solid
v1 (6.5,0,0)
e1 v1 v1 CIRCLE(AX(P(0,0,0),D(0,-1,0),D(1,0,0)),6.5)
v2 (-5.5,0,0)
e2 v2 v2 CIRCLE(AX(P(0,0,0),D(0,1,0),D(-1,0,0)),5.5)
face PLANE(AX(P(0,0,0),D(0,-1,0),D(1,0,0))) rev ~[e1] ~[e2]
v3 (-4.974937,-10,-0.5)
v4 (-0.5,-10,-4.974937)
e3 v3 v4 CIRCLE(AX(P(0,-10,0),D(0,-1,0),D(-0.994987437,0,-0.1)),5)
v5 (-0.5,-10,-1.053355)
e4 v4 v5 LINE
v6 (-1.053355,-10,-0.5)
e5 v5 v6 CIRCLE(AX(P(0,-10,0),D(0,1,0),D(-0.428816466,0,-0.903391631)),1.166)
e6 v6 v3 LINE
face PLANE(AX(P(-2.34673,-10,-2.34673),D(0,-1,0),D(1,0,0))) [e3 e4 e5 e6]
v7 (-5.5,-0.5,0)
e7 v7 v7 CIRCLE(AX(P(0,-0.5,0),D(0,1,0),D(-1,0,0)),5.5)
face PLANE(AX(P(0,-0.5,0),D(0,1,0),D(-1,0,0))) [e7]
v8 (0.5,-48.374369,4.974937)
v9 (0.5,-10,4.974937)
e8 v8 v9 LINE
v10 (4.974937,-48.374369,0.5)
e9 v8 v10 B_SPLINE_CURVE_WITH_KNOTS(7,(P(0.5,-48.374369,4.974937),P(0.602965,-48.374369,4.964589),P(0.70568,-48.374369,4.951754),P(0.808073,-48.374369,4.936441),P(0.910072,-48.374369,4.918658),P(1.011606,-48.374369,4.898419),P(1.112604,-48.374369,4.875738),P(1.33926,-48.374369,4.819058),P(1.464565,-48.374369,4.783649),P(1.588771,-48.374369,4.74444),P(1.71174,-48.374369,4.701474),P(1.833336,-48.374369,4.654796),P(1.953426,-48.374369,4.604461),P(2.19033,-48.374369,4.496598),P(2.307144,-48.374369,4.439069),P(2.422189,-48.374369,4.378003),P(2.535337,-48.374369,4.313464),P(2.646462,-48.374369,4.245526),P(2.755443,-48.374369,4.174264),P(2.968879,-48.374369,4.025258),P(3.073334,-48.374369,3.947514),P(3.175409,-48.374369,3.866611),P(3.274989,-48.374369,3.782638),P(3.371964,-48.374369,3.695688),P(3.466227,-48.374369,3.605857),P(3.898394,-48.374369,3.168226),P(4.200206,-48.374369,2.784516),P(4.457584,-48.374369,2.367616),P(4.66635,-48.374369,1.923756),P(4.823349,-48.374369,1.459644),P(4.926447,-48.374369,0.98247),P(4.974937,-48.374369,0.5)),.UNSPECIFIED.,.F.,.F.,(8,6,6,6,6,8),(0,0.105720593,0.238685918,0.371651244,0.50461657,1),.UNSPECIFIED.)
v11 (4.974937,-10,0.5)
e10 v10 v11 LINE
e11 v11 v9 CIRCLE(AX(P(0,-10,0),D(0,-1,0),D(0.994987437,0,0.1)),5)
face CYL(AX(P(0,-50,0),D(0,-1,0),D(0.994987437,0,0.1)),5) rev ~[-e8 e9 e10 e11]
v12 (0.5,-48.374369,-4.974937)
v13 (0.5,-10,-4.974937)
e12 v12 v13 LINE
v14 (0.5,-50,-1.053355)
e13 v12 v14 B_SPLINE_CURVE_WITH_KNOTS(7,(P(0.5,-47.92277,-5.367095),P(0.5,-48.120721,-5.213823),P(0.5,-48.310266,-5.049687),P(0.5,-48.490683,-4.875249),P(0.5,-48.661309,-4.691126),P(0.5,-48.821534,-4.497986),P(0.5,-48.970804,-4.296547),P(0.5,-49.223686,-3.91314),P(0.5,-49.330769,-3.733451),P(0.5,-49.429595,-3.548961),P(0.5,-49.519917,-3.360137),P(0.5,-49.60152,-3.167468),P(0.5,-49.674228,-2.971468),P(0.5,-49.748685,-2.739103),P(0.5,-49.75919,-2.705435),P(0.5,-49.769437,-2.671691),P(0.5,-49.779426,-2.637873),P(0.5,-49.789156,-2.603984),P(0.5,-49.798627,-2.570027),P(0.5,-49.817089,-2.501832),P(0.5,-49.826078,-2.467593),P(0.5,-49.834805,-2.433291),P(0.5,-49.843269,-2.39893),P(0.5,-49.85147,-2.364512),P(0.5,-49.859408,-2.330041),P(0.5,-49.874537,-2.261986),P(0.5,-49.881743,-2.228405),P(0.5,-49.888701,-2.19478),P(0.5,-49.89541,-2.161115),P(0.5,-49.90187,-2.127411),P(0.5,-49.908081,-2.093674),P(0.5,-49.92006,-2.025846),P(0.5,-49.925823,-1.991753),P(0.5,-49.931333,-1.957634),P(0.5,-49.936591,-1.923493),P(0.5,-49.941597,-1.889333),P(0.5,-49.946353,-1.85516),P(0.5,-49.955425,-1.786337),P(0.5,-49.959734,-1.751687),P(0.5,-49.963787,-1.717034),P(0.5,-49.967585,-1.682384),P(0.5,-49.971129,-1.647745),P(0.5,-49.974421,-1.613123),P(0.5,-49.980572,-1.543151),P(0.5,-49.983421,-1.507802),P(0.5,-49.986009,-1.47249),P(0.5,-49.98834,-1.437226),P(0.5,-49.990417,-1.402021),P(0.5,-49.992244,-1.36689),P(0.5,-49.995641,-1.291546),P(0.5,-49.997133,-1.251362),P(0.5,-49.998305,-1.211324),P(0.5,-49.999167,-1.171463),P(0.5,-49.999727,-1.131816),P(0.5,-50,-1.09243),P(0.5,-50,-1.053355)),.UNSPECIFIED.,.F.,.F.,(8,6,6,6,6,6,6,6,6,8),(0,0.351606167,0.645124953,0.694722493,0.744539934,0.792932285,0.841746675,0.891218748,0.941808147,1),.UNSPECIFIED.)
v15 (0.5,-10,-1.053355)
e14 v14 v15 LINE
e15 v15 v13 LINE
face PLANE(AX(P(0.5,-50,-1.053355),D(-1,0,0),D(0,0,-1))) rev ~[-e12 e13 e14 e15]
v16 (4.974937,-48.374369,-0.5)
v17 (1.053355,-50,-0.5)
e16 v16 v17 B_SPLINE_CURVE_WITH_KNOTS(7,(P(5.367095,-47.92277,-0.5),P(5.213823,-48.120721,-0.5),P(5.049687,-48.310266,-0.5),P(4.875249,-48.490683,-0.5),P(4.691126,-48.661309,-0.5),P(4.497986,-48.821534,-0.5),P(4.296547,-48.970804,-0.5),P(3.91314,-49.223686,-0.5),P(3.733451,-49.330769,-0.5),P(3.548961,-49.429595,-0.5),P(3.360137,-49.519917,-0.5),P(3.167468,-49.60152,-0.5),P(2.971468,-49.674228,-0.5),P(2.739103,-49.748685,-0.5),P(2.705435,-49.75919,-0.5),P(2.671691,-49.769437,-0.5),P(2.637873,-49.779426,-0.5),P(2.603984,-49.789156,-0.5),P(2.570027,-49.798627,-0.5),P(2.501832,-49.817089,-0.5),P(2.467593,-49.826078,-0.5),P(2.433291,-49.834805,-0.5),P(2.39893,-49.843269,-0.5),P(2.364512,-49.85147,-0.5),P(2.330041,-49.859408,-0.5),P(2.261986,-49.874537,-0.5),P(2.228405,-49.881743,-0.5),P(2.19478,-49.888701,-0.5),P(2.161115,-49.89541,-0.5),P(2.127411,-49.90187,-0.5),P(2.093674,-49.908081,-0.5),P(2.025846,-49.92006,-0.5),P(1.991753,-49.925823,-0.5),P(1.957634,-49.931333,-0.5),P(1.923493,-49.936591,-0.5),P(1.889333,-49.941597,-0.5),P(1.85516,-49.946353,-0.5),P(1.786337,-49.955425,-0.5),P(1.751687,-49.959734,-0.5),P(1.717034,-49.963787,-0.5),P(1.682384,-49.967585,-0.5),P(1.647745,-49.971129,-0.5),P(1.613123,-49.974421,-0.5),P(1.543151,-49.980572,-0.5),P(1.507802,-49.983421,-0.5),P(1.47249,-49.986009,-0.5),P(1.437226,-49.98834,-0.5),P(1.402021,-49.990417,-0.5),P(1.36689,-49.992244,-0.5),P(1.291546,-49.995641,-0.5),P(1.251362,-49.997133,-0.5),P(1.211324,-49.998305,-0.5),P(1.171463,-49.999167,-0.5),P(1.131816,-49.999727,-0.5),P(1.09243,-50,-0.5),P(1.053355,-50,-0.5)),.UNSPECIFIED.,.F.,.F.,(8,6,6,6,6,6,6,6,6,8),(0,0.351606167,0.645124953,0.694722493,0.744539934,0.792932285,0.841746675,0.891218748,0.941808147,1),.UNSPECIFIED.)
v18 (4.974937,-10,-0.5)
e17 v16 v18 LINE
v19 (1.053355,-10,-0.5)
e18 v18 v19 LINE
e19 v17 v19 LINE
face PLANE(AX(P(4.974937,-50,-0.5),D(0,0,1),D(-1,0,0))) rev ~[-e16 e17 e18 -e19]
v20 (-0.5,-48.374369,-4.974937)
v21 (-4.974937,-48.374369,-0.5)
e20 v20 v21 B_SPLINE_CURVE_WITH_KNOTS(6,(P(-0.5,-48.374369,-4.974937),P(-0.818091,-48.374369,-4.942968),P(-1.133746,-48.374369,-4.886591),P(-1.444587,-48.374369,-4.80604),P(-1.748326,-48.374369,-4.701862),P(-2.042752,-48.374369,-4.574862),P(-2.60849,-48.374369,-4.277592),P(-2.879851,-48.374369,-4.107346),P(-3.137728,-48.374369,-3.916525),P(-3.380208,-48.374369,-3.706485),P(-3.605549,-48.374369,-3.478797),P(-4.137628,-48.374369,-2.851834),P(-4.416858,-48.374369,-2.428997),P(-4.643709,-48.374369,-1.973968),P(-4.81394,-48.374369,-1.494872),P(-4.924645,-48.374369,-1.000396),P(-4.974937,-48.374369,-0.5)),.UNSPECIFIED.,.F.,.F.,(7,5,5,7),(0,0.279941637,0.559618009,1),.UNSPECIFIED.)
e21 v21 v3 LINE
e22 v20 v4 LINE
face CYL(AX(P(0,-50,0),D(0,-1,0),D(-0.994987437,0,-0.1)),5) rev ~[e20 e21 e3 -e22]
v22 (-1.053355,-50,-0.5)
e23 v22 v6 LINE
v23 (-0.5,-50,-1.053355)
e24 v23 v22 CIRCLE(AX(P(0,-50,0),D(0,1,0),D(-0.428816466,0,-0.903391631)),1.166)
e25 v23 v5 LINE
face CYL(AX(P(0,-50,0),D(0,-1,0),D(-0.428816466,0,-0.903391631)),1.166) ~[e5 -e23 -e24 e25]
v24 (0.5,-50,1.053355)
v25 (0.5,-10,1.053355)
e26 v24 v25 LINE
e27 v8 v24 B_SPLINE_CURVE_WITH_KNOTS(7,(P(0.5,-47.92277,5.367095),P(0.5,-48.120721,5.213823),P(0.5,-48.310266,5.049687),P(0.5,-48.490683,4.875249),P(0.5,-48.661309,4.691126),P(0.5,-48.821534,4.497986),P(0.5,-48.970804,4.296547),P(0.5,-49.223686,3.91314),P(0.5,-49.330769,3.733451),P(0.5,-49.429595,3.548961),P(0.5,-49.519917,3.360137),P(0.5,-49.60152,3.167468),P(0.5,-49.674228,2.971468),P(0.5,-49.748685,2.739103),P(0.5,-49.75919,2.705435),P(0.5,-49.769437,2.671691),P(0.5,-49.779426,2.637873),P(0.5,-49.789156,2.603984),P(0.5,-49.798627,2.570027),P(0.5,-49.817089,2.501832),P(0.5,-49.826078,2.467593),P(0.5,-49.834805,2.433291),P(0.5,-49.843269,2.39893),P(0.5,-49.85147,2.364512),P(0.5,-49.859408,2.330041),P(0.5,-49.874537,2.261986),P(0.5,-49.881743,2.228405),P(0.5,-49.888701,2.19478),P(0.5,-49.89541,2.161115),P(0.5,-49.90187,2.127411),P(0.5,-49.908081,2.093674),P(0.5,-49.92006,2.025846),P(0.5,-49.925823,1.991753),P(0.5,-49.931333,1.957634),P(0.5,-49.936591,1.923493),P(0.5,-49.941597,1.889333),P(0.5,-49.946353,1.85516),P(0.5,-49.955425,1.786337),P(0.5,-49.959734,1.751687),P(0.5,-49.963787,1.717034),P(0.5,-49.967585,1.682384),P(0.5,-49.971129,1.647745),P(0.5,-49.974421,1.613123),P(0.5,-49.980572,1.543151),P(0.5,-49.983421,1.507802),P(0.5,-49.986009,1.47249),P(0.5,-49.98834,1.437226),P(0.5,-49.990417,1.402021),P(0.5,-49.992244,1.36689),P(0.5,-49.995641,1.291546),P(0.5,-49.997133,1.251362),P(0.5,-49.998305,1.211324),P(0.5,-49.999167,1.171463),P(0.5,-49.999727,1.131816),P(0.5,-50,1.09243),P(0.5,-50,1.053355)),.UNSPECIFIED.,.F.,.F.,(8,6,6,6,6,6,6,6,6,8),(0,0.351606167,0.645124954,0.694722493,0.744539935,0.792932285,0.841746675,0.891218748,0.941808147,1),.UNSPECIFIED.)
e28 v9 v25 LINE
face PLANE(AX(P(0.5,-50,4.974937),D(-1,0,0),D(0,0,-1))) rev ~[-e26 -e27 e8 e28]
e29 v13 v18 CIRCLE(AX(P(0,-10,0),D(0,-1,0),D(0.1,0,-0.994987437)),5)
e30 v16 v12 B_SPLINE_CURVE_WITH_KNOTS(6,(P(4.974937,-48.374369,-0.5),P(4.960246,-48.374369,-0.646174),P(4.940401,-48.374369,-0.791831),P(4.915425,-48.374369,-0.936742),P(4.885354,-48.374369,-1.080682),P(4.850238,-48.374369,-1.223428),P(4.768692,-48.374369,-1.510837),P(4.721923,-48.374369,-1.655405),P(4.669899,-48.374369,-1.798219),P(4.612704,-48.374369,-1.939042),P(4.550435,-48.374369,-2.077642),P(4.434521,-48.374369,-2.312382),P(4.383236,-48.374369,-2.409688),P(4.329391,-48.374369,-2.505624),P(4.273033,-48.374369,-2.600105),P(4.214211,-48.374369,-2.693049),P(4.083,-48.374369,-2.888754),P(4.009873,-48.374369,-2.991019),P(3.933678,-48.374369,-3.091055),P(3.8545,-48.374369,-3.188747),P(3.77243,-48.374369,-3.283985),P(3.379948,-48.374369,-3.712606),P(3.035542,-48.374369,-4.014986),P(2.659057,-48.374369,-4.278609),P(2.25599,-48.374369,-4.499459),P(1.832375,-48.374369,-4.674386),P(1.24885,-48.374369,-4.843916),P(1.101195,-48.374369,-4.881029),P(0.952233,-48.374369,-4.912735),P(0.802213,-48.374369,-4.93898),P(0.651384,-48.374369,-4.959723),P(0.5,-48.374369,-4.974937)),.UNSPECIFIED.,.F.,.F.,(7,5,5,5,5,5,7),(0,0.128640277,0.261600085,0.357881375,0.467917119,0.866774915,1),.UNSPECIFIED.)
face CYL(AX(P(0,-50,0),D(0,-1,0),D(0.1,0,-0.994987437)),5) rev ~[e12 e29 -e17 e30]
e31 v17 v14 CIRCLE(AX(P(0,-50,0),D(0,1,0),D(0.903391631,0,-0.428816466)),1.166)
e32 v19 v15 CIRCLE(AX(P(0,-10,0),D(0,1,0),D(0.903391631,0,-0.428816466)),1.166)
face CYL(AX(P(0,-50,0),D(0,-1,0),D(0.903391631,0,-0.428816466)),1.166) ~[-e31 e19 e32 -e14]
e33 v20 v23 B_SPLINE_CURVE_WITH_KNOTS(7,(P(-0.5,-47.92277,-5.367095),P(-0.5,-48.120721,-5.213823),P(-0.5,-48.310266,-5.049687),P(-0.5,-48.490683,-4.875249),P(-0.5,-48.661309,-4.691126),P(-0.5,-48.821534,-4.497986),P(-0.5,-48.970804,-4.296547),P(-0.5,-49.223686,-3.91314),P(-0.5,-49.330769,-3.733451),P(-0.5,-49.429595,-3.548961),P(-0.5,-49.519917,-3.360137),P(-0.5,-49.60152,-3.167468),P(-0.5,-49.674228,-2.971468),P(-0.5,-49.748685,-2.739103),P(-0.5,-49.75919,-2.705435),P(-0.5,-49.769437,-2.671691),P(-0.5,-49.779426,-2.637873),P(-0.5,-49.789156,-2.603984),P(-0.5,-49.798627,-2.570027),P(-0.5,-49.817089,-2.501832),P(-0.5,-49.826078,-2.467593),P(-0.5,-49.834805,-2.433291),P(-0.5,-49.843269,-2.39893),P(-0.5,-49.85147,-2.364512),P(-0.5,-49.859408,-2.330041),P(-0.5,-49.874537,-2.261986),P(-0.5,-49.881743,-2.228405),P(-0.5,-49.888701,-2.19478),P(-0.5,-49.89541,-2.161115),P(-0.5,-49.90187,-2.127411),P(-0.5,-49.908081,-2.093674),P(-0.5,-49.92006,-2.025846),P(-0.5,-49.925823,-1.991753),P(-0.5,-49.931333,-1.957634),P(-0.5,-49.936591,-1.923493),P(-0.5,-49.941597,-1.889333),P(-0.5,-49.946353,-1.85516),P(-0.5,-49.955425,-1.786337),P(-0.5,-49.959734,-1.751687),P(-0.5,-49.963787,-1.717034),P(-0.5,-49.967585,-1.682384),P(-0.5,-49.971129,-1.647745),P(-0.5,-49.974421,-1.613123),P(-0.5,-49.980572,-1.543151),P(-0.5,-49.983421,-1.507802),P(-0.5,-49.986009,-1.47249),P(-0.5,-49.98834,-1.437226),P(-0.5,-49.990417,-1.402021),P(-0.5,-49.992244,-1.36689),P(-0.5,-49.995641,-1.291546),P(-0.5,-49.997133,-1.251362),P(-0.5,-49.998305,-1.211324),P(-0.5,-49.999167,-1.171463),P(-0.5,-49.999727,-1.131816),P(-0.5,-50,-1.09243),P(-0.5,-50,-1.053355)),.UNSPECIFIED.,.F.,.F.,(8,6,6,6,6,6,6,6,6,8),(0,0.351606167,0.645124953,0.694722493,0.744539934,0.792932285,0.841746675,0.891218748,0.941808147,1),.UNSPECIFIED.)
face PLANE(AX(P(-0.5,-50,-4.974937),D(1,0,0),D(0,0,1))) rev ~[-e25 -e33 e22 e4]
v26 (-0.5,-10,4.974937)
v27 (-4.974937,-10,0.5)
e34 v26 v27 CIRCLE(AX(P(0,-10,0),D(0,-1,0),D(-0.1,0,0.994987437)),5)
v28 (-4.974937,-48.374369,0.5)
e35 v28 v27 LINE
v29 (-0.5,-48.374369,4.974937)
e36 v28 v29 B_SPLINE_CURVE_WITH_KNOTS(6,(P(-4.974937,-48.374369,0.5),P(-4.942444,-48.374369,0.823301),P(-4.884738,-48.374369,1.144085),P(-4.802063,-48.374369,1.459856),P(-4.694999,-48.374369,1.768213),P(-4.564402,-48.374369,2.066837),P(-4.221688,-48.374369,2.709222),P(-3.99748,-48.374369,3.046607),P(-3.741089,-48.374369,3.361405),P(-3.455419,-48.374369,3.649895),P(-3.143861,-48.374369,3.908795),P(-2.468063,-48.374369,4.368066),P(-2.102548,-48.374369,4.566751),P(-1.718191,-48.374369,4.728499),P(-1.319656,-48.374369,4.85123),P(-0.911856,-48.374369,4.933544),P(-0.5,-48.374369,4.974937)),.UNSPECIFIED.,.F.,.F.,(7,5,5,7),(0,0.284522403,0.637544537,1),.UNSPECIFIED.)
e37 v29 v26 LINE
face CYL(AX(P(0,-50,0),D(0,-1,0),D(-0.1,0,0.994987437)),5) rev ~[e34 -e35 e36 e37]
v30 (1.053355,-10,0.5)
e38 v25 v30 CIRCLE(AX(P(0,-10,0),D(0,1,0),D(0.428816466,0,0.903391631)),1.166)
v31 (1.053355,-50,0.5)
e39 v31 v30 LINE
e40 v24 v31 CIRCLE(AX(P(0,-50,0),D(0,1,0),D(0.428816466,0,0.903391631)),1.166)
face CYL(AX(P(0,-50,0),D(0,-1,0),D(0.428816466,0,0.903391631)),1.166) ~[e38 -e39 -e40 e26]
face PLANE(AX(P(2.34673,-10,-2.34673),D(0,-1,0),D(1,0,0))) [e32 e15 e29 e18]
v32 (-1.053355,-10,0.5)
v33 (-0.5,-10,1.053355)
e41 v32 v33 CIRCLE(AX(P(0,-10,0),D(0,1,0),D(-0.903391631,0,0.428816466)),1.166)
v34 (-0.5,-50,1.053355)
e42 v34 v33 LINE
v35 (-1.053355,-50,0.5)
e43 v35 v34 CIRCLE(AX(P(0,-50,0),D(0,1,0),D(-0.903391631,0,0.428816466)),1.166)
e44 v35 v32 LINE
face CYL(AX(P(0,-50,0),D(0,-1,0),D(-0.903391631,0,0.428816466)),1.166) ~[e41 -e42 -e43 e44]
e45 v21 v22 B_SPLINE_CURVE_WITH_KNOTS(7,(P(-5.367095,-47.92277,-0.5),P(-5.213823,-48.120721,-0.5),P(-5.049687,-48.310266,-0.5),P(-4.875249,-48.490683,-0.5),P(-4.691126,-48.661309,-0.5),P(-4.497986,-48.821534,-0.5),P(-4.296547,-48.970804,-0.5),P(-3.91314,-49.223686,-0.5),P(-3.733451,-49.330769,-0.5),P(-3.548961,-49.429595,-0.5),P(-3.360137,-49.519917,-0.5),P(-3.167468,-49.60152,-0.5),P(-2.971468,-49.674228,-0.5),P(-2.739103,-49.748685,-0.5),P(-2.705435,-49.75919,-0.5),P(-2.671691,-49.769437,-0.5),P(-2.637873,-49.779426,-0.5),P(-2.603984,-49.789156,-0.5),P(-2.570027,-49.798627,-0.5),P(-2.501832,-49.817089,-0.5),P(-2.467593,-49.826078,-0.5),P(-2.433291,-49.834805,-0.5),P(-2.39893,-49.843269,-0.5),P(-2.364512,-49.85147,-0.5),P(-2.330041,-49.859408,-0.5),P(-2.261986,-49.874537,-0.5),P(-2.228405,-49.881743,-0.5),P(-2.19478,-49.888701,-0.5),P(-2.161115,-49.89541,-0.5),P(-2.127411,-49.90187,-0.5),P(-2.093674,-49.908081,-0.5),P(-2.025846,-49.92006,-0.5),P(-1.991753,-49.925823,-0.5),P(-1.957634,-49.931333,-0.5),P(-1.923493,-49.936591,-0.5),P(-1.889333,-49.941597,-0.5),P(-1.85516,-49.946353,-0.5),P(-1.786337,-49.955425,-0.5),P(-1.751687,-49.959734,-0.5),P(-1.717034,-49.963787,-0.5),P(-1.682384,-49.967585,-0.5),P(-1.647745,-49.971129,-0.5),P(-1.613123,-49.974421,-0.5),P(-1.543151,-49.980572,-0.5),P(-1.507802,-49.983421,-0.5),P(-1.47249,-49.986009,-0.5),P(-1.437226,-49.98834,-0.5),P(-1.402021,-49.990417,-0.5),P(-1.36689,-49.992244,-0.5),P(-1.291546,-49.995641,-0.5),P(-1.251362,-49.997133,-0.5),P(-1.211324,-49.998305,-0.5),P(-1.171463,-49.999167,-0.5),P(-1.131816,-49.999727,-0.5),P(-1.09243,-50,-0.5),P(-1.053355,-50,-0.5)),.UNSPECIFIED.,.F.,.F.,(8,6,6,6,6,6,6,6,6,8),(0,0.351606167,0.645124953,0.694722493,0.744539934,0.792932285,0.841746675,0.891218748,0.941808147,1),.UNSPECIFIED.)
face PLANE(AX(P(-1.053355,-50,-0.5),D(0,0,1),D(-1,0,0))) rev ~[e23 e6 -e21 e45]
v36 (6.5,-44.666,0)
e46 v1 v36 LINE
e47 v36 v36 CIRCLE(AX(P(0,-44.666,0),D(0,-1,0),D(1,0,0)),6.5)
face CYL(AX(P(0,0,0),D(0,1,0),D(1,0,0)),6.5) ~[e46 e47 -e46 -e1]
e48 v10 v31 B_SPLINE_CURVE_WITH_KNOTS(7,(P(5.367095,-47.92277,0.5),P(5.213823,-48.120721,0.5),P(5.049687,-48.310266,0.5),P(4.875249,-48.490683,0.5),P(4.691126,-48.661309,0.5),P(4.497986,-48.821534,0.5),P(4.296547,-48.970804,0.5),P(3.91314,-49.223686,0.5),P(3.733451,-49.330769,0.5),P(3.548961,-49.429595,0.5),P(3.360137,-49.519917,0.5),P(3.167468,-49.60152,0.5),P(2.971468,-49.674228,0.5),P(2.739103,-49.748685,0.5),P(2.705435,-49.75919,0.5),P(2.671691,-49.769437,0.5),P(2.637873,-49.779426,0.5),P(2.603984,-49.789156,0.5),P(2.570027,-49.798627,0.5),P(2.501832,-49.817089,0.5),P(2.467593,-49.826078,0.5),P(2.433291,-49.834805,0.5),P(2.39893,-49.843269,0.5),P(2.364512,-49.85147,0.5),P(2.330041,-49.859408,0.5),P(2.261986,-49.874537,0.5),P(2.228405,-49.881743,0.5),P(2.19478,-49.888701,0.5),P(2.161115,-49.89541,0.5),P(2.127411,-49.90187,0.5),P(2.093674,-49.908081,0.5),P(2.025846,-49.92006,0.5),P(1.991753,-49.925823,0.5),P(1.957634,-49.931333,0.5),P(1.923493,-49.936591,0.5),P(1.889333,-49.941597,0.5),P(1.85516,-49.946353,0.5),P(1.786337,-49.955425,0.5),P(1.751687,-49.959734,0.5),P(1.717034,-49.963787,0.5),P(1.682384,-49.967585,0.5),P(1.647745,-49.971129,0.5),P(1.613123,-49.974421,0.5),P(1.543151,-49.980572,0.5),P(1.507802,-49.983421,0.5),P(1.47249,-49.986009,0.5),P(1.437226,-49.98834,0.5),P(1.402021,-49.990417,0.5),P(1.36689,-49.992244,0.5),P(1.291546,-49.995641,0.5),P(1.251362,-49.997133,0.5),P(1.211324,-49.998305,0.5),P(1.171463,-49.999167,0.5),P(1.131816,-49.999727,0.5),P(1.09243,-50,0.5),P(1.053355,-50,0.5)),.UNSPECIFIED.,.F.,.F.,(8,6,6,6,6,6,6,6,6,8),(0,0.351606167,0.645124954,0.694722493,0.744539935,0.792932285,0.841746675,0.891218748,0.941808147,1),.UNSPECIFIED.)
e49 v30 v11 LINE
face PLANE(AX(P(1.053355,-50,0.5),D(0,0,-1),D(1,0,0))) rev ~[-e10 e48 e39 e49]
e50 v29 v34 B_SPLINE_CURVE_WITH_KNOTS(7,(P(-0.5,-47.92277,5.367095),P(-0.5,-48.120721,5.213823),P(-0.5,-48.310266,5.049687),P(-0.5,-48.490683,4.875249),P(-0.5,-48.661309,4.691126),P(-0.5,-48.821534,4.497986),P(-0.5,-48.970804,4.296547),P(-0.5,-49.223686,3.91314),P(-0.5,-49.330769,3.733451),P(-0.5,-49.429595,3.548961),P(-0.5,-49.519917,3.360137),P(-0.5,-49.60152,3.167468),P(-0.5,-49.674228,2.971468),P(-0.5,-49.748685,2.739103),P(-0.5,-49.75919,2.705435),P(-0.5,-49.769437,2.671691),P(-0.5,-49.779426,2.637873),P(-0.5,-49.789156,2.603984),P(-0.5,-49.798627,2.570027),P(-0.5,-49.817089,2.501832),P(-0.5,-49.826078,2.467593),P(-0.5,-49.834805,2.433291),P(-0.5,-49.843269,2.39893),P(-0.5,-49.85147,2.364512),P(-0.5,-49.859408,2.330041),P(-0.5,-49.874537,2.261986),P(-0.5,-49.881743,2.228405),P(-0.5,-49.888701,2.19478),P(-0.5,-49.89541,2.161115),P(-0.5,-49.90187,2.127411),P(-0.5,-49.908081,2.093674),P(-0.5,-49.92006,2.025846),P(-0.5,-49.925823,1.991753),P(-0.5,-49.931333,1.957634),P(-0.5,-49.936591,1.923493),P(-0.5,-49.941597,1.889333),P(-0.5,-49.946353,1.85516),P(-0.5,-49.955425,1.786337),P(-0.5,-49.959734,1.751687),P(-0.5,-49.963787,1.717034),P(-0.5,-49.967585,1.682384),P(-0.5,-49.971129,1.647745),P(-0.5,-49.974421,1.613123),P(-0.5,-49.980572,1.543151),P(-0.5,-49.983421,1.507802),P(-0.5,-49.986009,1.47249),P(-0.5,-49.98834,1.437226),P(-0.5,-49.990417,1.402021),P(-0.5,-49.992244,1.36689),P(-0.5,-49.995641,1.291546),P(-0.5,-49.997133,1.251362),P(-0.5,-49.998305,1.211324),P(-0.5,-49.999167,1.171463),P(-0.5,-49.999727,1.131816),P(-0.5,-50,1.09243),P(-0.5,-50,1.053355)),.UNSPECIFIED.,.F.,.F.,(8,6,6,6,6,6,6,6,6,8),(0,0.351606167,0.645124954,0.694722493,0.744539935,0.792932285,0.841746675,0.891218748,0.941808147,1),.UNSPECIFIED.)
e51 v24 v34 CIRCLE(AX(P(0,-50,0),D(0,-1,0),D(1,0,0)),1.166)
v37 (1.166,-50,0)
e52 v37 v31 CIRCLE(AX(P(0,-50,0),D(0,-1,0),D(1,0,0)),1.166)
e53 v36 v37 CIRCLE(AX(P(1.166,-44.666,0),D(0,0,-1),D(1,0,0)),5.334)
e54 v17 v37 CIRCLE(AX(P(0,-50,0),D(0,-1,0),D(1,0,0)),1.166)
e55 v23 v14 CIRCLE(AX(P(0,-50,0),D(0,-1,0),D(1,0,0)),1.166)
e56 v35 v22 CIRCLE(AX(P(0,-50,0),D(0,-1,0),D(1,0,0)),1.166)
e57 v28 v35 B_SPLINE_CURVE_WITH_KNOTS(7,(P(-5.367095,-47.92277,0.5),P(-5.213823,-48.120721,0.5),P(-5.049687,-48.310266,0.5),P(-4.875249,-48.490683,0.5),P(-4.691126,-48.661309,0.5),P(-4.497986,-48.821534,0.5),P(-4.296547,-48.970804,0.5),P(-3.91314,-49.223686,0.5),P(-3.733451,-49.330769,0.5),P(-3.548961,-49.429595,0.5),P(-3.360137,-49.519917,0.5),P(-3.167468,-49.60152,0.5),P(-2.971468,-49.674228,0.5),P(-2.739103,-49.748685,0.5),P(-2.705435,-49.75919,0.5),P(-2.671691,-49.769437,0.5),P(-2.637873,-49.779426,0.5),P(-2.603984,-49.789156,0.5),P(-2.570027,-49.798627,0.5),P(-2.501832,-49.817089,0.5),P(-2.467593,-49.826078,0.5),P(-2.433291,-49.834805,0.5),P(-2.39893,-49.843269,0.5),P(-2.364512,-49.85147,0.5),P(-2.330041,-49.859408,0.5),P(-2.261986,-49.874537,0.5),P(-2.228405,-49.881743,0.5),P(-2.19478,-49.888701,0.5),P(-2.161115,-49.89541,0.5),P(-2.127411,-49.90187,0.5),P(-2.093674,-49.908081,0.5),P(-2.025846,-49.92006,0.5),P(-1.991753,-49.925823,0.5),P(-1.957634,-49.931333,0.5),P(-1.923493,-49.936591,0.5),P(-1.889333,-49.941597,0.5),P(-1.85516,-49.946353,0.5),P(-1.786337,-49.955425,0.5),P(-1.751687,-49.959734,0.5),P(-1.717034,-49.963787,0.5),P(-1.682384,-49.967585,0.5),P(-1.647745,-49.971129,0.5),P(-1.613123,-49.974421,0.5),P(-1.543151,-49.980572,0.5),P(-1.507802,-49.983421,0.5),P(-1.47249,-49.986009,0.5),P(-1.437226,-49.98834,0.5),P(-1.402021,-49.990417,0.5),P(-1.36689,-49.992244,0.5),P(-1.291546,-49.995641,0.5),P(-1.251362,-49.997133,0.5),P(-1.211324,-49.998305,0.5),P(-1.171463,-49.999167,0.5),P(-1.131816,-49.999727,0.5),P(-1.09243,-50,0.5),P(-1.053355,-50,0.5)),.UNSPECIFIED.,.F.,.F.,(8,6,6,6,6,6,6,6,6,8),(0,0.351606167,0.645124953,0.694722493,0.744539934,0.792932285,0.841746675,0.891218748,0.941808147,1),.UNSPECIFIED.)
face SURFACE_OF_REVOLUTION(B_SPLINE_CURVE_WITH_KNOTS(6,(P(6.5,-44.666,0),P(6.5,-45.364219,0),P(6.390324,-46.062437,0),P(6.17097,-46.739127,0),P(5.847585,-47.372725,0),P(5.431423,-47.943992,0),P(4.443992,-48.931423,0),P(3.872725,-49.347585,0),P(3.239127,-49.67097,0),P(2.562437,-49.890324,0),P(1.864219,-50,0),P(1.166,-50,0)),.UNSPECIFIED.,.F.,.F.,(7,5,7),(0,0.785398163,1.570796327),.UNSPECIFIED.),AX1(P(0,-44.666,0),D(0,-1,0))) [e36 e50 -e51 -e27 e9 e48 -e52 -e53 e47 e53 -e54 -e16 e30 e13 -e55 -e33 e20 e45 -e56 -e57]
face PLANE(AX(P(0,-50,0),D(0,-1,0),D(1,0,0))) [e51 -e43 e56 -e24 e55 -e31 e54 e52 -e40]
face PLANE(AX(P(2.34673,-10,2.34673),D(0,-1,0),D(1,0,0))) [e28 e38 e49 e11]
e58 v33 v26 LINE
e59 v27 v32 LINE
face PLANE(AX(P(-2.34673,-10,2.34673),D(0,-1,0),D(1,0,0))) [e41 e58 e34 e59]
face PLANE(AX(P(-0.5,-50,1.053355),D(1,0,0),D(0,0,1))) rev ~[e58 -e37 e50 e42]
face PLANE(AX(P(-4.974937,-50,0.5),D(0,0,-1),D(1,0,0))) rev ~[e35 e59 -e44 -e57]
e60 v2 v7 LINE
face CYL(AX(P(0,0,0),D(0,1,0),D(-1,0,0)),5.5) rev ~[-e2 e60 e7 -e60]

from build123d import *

# Parameters (mm, degrees)
F0_R     = 6.5
F1_DEPTH = 50
F2_R     = 5.334
F4_DEPTH = 40
F5_R     = 5.5
F6_DEPTH = 0.5


with BuildPart() as f1:
    # F0 (on Front) → F1 (new body)
    with BuildSketch(Plane.XZ):
        Circle(F0_R)
    extrude(amount=F1_DEPTH)

    # F2
    f2_edges = [f1.edges().sort_by_distance(p)[0] for p in [
        (-6.5, -50, 0),
    ]]
    fillet(f2_edges, radius=F2_R)

    # F3 (on face) → F4 (cut)
    with BuildSketch(Plane.XZ.offset(50)):
        with BuildLine():
            Line((-0.5, 1.0533546411), (-0.5, 4.9749371855))
            ThreePointArc((-0.5, 4.9749371855), (-3.5355339059, 3.5355339059), (-4.9749371855, 0.5))
            Line((-4.9749371855, 0.5), (-1.0533546411, 0.5))
            ThreePointArc((-1.0533546411, 0.5), (-0.8244865069, 0.8244865069), (-0.5, 1.0533546411))
        make_face()
        with BuildLine():
            Line((1.0533546411, 0.5), (4.9749371855, 0.5))
            ThreePointArc((4.9749371855, 0.5), (3.5355339059, 3.5355339059), (0.5, 4.9749371855))
            Line((0.5, 4.9749371855), (0.5, 1.0533546411))
            ThreePointArc((0.5, 1.0533546411), (0.8244865069, 0.8244865069), (1.0533546411, 0.5))
        make_face()
        with BuildLine():
            ThreePointArc((0.5, -4.9749371855), (3.5355339059, -3.5355339059), (4.9749371855, -0.5))
            Line((4.9749371855, -0.5), (1.0533546411, -0.5))
            ThreePointArc((1.0533546411, -0.5), (0.8244865069, -0.8244865069), (0.5, -1.0533546411))
            Line((0.5, -1.0533546411), (0.5, -4.9749371855))
        make_face()
        with BuildLine():
            ThreePointArc((-4.9749371855, -0.5), (-3.5355339059, -3.5355339059), (-0.5, -4.9749371855))
            Line((-0.5, -4.9749371855), (-0.5, -1.0533546411))
            ThreePointArc((-0.5, -1.0533546411), (-0.8244865069, -0.8244865069), (-1.0533546411, -0.5))
            Line((-1.0533546411, -0.5), (-4.9749371855, -0.5))
        make_face()
    extrude(amount=-F4_DEPTH, mode=Mode.SUBTRACT)

    # F5 (on face) → F6 (cut)
    with BuildSketch(Plane(origin=(0, 0, 0), x_dir=(-1, 0, 0), z_dir=(0, 1, 0))):
        Circle(F5_R)
    extrude(amount=-F6_DEPTH, mode=Mode.SUBTRACT)


solid = f1.part
